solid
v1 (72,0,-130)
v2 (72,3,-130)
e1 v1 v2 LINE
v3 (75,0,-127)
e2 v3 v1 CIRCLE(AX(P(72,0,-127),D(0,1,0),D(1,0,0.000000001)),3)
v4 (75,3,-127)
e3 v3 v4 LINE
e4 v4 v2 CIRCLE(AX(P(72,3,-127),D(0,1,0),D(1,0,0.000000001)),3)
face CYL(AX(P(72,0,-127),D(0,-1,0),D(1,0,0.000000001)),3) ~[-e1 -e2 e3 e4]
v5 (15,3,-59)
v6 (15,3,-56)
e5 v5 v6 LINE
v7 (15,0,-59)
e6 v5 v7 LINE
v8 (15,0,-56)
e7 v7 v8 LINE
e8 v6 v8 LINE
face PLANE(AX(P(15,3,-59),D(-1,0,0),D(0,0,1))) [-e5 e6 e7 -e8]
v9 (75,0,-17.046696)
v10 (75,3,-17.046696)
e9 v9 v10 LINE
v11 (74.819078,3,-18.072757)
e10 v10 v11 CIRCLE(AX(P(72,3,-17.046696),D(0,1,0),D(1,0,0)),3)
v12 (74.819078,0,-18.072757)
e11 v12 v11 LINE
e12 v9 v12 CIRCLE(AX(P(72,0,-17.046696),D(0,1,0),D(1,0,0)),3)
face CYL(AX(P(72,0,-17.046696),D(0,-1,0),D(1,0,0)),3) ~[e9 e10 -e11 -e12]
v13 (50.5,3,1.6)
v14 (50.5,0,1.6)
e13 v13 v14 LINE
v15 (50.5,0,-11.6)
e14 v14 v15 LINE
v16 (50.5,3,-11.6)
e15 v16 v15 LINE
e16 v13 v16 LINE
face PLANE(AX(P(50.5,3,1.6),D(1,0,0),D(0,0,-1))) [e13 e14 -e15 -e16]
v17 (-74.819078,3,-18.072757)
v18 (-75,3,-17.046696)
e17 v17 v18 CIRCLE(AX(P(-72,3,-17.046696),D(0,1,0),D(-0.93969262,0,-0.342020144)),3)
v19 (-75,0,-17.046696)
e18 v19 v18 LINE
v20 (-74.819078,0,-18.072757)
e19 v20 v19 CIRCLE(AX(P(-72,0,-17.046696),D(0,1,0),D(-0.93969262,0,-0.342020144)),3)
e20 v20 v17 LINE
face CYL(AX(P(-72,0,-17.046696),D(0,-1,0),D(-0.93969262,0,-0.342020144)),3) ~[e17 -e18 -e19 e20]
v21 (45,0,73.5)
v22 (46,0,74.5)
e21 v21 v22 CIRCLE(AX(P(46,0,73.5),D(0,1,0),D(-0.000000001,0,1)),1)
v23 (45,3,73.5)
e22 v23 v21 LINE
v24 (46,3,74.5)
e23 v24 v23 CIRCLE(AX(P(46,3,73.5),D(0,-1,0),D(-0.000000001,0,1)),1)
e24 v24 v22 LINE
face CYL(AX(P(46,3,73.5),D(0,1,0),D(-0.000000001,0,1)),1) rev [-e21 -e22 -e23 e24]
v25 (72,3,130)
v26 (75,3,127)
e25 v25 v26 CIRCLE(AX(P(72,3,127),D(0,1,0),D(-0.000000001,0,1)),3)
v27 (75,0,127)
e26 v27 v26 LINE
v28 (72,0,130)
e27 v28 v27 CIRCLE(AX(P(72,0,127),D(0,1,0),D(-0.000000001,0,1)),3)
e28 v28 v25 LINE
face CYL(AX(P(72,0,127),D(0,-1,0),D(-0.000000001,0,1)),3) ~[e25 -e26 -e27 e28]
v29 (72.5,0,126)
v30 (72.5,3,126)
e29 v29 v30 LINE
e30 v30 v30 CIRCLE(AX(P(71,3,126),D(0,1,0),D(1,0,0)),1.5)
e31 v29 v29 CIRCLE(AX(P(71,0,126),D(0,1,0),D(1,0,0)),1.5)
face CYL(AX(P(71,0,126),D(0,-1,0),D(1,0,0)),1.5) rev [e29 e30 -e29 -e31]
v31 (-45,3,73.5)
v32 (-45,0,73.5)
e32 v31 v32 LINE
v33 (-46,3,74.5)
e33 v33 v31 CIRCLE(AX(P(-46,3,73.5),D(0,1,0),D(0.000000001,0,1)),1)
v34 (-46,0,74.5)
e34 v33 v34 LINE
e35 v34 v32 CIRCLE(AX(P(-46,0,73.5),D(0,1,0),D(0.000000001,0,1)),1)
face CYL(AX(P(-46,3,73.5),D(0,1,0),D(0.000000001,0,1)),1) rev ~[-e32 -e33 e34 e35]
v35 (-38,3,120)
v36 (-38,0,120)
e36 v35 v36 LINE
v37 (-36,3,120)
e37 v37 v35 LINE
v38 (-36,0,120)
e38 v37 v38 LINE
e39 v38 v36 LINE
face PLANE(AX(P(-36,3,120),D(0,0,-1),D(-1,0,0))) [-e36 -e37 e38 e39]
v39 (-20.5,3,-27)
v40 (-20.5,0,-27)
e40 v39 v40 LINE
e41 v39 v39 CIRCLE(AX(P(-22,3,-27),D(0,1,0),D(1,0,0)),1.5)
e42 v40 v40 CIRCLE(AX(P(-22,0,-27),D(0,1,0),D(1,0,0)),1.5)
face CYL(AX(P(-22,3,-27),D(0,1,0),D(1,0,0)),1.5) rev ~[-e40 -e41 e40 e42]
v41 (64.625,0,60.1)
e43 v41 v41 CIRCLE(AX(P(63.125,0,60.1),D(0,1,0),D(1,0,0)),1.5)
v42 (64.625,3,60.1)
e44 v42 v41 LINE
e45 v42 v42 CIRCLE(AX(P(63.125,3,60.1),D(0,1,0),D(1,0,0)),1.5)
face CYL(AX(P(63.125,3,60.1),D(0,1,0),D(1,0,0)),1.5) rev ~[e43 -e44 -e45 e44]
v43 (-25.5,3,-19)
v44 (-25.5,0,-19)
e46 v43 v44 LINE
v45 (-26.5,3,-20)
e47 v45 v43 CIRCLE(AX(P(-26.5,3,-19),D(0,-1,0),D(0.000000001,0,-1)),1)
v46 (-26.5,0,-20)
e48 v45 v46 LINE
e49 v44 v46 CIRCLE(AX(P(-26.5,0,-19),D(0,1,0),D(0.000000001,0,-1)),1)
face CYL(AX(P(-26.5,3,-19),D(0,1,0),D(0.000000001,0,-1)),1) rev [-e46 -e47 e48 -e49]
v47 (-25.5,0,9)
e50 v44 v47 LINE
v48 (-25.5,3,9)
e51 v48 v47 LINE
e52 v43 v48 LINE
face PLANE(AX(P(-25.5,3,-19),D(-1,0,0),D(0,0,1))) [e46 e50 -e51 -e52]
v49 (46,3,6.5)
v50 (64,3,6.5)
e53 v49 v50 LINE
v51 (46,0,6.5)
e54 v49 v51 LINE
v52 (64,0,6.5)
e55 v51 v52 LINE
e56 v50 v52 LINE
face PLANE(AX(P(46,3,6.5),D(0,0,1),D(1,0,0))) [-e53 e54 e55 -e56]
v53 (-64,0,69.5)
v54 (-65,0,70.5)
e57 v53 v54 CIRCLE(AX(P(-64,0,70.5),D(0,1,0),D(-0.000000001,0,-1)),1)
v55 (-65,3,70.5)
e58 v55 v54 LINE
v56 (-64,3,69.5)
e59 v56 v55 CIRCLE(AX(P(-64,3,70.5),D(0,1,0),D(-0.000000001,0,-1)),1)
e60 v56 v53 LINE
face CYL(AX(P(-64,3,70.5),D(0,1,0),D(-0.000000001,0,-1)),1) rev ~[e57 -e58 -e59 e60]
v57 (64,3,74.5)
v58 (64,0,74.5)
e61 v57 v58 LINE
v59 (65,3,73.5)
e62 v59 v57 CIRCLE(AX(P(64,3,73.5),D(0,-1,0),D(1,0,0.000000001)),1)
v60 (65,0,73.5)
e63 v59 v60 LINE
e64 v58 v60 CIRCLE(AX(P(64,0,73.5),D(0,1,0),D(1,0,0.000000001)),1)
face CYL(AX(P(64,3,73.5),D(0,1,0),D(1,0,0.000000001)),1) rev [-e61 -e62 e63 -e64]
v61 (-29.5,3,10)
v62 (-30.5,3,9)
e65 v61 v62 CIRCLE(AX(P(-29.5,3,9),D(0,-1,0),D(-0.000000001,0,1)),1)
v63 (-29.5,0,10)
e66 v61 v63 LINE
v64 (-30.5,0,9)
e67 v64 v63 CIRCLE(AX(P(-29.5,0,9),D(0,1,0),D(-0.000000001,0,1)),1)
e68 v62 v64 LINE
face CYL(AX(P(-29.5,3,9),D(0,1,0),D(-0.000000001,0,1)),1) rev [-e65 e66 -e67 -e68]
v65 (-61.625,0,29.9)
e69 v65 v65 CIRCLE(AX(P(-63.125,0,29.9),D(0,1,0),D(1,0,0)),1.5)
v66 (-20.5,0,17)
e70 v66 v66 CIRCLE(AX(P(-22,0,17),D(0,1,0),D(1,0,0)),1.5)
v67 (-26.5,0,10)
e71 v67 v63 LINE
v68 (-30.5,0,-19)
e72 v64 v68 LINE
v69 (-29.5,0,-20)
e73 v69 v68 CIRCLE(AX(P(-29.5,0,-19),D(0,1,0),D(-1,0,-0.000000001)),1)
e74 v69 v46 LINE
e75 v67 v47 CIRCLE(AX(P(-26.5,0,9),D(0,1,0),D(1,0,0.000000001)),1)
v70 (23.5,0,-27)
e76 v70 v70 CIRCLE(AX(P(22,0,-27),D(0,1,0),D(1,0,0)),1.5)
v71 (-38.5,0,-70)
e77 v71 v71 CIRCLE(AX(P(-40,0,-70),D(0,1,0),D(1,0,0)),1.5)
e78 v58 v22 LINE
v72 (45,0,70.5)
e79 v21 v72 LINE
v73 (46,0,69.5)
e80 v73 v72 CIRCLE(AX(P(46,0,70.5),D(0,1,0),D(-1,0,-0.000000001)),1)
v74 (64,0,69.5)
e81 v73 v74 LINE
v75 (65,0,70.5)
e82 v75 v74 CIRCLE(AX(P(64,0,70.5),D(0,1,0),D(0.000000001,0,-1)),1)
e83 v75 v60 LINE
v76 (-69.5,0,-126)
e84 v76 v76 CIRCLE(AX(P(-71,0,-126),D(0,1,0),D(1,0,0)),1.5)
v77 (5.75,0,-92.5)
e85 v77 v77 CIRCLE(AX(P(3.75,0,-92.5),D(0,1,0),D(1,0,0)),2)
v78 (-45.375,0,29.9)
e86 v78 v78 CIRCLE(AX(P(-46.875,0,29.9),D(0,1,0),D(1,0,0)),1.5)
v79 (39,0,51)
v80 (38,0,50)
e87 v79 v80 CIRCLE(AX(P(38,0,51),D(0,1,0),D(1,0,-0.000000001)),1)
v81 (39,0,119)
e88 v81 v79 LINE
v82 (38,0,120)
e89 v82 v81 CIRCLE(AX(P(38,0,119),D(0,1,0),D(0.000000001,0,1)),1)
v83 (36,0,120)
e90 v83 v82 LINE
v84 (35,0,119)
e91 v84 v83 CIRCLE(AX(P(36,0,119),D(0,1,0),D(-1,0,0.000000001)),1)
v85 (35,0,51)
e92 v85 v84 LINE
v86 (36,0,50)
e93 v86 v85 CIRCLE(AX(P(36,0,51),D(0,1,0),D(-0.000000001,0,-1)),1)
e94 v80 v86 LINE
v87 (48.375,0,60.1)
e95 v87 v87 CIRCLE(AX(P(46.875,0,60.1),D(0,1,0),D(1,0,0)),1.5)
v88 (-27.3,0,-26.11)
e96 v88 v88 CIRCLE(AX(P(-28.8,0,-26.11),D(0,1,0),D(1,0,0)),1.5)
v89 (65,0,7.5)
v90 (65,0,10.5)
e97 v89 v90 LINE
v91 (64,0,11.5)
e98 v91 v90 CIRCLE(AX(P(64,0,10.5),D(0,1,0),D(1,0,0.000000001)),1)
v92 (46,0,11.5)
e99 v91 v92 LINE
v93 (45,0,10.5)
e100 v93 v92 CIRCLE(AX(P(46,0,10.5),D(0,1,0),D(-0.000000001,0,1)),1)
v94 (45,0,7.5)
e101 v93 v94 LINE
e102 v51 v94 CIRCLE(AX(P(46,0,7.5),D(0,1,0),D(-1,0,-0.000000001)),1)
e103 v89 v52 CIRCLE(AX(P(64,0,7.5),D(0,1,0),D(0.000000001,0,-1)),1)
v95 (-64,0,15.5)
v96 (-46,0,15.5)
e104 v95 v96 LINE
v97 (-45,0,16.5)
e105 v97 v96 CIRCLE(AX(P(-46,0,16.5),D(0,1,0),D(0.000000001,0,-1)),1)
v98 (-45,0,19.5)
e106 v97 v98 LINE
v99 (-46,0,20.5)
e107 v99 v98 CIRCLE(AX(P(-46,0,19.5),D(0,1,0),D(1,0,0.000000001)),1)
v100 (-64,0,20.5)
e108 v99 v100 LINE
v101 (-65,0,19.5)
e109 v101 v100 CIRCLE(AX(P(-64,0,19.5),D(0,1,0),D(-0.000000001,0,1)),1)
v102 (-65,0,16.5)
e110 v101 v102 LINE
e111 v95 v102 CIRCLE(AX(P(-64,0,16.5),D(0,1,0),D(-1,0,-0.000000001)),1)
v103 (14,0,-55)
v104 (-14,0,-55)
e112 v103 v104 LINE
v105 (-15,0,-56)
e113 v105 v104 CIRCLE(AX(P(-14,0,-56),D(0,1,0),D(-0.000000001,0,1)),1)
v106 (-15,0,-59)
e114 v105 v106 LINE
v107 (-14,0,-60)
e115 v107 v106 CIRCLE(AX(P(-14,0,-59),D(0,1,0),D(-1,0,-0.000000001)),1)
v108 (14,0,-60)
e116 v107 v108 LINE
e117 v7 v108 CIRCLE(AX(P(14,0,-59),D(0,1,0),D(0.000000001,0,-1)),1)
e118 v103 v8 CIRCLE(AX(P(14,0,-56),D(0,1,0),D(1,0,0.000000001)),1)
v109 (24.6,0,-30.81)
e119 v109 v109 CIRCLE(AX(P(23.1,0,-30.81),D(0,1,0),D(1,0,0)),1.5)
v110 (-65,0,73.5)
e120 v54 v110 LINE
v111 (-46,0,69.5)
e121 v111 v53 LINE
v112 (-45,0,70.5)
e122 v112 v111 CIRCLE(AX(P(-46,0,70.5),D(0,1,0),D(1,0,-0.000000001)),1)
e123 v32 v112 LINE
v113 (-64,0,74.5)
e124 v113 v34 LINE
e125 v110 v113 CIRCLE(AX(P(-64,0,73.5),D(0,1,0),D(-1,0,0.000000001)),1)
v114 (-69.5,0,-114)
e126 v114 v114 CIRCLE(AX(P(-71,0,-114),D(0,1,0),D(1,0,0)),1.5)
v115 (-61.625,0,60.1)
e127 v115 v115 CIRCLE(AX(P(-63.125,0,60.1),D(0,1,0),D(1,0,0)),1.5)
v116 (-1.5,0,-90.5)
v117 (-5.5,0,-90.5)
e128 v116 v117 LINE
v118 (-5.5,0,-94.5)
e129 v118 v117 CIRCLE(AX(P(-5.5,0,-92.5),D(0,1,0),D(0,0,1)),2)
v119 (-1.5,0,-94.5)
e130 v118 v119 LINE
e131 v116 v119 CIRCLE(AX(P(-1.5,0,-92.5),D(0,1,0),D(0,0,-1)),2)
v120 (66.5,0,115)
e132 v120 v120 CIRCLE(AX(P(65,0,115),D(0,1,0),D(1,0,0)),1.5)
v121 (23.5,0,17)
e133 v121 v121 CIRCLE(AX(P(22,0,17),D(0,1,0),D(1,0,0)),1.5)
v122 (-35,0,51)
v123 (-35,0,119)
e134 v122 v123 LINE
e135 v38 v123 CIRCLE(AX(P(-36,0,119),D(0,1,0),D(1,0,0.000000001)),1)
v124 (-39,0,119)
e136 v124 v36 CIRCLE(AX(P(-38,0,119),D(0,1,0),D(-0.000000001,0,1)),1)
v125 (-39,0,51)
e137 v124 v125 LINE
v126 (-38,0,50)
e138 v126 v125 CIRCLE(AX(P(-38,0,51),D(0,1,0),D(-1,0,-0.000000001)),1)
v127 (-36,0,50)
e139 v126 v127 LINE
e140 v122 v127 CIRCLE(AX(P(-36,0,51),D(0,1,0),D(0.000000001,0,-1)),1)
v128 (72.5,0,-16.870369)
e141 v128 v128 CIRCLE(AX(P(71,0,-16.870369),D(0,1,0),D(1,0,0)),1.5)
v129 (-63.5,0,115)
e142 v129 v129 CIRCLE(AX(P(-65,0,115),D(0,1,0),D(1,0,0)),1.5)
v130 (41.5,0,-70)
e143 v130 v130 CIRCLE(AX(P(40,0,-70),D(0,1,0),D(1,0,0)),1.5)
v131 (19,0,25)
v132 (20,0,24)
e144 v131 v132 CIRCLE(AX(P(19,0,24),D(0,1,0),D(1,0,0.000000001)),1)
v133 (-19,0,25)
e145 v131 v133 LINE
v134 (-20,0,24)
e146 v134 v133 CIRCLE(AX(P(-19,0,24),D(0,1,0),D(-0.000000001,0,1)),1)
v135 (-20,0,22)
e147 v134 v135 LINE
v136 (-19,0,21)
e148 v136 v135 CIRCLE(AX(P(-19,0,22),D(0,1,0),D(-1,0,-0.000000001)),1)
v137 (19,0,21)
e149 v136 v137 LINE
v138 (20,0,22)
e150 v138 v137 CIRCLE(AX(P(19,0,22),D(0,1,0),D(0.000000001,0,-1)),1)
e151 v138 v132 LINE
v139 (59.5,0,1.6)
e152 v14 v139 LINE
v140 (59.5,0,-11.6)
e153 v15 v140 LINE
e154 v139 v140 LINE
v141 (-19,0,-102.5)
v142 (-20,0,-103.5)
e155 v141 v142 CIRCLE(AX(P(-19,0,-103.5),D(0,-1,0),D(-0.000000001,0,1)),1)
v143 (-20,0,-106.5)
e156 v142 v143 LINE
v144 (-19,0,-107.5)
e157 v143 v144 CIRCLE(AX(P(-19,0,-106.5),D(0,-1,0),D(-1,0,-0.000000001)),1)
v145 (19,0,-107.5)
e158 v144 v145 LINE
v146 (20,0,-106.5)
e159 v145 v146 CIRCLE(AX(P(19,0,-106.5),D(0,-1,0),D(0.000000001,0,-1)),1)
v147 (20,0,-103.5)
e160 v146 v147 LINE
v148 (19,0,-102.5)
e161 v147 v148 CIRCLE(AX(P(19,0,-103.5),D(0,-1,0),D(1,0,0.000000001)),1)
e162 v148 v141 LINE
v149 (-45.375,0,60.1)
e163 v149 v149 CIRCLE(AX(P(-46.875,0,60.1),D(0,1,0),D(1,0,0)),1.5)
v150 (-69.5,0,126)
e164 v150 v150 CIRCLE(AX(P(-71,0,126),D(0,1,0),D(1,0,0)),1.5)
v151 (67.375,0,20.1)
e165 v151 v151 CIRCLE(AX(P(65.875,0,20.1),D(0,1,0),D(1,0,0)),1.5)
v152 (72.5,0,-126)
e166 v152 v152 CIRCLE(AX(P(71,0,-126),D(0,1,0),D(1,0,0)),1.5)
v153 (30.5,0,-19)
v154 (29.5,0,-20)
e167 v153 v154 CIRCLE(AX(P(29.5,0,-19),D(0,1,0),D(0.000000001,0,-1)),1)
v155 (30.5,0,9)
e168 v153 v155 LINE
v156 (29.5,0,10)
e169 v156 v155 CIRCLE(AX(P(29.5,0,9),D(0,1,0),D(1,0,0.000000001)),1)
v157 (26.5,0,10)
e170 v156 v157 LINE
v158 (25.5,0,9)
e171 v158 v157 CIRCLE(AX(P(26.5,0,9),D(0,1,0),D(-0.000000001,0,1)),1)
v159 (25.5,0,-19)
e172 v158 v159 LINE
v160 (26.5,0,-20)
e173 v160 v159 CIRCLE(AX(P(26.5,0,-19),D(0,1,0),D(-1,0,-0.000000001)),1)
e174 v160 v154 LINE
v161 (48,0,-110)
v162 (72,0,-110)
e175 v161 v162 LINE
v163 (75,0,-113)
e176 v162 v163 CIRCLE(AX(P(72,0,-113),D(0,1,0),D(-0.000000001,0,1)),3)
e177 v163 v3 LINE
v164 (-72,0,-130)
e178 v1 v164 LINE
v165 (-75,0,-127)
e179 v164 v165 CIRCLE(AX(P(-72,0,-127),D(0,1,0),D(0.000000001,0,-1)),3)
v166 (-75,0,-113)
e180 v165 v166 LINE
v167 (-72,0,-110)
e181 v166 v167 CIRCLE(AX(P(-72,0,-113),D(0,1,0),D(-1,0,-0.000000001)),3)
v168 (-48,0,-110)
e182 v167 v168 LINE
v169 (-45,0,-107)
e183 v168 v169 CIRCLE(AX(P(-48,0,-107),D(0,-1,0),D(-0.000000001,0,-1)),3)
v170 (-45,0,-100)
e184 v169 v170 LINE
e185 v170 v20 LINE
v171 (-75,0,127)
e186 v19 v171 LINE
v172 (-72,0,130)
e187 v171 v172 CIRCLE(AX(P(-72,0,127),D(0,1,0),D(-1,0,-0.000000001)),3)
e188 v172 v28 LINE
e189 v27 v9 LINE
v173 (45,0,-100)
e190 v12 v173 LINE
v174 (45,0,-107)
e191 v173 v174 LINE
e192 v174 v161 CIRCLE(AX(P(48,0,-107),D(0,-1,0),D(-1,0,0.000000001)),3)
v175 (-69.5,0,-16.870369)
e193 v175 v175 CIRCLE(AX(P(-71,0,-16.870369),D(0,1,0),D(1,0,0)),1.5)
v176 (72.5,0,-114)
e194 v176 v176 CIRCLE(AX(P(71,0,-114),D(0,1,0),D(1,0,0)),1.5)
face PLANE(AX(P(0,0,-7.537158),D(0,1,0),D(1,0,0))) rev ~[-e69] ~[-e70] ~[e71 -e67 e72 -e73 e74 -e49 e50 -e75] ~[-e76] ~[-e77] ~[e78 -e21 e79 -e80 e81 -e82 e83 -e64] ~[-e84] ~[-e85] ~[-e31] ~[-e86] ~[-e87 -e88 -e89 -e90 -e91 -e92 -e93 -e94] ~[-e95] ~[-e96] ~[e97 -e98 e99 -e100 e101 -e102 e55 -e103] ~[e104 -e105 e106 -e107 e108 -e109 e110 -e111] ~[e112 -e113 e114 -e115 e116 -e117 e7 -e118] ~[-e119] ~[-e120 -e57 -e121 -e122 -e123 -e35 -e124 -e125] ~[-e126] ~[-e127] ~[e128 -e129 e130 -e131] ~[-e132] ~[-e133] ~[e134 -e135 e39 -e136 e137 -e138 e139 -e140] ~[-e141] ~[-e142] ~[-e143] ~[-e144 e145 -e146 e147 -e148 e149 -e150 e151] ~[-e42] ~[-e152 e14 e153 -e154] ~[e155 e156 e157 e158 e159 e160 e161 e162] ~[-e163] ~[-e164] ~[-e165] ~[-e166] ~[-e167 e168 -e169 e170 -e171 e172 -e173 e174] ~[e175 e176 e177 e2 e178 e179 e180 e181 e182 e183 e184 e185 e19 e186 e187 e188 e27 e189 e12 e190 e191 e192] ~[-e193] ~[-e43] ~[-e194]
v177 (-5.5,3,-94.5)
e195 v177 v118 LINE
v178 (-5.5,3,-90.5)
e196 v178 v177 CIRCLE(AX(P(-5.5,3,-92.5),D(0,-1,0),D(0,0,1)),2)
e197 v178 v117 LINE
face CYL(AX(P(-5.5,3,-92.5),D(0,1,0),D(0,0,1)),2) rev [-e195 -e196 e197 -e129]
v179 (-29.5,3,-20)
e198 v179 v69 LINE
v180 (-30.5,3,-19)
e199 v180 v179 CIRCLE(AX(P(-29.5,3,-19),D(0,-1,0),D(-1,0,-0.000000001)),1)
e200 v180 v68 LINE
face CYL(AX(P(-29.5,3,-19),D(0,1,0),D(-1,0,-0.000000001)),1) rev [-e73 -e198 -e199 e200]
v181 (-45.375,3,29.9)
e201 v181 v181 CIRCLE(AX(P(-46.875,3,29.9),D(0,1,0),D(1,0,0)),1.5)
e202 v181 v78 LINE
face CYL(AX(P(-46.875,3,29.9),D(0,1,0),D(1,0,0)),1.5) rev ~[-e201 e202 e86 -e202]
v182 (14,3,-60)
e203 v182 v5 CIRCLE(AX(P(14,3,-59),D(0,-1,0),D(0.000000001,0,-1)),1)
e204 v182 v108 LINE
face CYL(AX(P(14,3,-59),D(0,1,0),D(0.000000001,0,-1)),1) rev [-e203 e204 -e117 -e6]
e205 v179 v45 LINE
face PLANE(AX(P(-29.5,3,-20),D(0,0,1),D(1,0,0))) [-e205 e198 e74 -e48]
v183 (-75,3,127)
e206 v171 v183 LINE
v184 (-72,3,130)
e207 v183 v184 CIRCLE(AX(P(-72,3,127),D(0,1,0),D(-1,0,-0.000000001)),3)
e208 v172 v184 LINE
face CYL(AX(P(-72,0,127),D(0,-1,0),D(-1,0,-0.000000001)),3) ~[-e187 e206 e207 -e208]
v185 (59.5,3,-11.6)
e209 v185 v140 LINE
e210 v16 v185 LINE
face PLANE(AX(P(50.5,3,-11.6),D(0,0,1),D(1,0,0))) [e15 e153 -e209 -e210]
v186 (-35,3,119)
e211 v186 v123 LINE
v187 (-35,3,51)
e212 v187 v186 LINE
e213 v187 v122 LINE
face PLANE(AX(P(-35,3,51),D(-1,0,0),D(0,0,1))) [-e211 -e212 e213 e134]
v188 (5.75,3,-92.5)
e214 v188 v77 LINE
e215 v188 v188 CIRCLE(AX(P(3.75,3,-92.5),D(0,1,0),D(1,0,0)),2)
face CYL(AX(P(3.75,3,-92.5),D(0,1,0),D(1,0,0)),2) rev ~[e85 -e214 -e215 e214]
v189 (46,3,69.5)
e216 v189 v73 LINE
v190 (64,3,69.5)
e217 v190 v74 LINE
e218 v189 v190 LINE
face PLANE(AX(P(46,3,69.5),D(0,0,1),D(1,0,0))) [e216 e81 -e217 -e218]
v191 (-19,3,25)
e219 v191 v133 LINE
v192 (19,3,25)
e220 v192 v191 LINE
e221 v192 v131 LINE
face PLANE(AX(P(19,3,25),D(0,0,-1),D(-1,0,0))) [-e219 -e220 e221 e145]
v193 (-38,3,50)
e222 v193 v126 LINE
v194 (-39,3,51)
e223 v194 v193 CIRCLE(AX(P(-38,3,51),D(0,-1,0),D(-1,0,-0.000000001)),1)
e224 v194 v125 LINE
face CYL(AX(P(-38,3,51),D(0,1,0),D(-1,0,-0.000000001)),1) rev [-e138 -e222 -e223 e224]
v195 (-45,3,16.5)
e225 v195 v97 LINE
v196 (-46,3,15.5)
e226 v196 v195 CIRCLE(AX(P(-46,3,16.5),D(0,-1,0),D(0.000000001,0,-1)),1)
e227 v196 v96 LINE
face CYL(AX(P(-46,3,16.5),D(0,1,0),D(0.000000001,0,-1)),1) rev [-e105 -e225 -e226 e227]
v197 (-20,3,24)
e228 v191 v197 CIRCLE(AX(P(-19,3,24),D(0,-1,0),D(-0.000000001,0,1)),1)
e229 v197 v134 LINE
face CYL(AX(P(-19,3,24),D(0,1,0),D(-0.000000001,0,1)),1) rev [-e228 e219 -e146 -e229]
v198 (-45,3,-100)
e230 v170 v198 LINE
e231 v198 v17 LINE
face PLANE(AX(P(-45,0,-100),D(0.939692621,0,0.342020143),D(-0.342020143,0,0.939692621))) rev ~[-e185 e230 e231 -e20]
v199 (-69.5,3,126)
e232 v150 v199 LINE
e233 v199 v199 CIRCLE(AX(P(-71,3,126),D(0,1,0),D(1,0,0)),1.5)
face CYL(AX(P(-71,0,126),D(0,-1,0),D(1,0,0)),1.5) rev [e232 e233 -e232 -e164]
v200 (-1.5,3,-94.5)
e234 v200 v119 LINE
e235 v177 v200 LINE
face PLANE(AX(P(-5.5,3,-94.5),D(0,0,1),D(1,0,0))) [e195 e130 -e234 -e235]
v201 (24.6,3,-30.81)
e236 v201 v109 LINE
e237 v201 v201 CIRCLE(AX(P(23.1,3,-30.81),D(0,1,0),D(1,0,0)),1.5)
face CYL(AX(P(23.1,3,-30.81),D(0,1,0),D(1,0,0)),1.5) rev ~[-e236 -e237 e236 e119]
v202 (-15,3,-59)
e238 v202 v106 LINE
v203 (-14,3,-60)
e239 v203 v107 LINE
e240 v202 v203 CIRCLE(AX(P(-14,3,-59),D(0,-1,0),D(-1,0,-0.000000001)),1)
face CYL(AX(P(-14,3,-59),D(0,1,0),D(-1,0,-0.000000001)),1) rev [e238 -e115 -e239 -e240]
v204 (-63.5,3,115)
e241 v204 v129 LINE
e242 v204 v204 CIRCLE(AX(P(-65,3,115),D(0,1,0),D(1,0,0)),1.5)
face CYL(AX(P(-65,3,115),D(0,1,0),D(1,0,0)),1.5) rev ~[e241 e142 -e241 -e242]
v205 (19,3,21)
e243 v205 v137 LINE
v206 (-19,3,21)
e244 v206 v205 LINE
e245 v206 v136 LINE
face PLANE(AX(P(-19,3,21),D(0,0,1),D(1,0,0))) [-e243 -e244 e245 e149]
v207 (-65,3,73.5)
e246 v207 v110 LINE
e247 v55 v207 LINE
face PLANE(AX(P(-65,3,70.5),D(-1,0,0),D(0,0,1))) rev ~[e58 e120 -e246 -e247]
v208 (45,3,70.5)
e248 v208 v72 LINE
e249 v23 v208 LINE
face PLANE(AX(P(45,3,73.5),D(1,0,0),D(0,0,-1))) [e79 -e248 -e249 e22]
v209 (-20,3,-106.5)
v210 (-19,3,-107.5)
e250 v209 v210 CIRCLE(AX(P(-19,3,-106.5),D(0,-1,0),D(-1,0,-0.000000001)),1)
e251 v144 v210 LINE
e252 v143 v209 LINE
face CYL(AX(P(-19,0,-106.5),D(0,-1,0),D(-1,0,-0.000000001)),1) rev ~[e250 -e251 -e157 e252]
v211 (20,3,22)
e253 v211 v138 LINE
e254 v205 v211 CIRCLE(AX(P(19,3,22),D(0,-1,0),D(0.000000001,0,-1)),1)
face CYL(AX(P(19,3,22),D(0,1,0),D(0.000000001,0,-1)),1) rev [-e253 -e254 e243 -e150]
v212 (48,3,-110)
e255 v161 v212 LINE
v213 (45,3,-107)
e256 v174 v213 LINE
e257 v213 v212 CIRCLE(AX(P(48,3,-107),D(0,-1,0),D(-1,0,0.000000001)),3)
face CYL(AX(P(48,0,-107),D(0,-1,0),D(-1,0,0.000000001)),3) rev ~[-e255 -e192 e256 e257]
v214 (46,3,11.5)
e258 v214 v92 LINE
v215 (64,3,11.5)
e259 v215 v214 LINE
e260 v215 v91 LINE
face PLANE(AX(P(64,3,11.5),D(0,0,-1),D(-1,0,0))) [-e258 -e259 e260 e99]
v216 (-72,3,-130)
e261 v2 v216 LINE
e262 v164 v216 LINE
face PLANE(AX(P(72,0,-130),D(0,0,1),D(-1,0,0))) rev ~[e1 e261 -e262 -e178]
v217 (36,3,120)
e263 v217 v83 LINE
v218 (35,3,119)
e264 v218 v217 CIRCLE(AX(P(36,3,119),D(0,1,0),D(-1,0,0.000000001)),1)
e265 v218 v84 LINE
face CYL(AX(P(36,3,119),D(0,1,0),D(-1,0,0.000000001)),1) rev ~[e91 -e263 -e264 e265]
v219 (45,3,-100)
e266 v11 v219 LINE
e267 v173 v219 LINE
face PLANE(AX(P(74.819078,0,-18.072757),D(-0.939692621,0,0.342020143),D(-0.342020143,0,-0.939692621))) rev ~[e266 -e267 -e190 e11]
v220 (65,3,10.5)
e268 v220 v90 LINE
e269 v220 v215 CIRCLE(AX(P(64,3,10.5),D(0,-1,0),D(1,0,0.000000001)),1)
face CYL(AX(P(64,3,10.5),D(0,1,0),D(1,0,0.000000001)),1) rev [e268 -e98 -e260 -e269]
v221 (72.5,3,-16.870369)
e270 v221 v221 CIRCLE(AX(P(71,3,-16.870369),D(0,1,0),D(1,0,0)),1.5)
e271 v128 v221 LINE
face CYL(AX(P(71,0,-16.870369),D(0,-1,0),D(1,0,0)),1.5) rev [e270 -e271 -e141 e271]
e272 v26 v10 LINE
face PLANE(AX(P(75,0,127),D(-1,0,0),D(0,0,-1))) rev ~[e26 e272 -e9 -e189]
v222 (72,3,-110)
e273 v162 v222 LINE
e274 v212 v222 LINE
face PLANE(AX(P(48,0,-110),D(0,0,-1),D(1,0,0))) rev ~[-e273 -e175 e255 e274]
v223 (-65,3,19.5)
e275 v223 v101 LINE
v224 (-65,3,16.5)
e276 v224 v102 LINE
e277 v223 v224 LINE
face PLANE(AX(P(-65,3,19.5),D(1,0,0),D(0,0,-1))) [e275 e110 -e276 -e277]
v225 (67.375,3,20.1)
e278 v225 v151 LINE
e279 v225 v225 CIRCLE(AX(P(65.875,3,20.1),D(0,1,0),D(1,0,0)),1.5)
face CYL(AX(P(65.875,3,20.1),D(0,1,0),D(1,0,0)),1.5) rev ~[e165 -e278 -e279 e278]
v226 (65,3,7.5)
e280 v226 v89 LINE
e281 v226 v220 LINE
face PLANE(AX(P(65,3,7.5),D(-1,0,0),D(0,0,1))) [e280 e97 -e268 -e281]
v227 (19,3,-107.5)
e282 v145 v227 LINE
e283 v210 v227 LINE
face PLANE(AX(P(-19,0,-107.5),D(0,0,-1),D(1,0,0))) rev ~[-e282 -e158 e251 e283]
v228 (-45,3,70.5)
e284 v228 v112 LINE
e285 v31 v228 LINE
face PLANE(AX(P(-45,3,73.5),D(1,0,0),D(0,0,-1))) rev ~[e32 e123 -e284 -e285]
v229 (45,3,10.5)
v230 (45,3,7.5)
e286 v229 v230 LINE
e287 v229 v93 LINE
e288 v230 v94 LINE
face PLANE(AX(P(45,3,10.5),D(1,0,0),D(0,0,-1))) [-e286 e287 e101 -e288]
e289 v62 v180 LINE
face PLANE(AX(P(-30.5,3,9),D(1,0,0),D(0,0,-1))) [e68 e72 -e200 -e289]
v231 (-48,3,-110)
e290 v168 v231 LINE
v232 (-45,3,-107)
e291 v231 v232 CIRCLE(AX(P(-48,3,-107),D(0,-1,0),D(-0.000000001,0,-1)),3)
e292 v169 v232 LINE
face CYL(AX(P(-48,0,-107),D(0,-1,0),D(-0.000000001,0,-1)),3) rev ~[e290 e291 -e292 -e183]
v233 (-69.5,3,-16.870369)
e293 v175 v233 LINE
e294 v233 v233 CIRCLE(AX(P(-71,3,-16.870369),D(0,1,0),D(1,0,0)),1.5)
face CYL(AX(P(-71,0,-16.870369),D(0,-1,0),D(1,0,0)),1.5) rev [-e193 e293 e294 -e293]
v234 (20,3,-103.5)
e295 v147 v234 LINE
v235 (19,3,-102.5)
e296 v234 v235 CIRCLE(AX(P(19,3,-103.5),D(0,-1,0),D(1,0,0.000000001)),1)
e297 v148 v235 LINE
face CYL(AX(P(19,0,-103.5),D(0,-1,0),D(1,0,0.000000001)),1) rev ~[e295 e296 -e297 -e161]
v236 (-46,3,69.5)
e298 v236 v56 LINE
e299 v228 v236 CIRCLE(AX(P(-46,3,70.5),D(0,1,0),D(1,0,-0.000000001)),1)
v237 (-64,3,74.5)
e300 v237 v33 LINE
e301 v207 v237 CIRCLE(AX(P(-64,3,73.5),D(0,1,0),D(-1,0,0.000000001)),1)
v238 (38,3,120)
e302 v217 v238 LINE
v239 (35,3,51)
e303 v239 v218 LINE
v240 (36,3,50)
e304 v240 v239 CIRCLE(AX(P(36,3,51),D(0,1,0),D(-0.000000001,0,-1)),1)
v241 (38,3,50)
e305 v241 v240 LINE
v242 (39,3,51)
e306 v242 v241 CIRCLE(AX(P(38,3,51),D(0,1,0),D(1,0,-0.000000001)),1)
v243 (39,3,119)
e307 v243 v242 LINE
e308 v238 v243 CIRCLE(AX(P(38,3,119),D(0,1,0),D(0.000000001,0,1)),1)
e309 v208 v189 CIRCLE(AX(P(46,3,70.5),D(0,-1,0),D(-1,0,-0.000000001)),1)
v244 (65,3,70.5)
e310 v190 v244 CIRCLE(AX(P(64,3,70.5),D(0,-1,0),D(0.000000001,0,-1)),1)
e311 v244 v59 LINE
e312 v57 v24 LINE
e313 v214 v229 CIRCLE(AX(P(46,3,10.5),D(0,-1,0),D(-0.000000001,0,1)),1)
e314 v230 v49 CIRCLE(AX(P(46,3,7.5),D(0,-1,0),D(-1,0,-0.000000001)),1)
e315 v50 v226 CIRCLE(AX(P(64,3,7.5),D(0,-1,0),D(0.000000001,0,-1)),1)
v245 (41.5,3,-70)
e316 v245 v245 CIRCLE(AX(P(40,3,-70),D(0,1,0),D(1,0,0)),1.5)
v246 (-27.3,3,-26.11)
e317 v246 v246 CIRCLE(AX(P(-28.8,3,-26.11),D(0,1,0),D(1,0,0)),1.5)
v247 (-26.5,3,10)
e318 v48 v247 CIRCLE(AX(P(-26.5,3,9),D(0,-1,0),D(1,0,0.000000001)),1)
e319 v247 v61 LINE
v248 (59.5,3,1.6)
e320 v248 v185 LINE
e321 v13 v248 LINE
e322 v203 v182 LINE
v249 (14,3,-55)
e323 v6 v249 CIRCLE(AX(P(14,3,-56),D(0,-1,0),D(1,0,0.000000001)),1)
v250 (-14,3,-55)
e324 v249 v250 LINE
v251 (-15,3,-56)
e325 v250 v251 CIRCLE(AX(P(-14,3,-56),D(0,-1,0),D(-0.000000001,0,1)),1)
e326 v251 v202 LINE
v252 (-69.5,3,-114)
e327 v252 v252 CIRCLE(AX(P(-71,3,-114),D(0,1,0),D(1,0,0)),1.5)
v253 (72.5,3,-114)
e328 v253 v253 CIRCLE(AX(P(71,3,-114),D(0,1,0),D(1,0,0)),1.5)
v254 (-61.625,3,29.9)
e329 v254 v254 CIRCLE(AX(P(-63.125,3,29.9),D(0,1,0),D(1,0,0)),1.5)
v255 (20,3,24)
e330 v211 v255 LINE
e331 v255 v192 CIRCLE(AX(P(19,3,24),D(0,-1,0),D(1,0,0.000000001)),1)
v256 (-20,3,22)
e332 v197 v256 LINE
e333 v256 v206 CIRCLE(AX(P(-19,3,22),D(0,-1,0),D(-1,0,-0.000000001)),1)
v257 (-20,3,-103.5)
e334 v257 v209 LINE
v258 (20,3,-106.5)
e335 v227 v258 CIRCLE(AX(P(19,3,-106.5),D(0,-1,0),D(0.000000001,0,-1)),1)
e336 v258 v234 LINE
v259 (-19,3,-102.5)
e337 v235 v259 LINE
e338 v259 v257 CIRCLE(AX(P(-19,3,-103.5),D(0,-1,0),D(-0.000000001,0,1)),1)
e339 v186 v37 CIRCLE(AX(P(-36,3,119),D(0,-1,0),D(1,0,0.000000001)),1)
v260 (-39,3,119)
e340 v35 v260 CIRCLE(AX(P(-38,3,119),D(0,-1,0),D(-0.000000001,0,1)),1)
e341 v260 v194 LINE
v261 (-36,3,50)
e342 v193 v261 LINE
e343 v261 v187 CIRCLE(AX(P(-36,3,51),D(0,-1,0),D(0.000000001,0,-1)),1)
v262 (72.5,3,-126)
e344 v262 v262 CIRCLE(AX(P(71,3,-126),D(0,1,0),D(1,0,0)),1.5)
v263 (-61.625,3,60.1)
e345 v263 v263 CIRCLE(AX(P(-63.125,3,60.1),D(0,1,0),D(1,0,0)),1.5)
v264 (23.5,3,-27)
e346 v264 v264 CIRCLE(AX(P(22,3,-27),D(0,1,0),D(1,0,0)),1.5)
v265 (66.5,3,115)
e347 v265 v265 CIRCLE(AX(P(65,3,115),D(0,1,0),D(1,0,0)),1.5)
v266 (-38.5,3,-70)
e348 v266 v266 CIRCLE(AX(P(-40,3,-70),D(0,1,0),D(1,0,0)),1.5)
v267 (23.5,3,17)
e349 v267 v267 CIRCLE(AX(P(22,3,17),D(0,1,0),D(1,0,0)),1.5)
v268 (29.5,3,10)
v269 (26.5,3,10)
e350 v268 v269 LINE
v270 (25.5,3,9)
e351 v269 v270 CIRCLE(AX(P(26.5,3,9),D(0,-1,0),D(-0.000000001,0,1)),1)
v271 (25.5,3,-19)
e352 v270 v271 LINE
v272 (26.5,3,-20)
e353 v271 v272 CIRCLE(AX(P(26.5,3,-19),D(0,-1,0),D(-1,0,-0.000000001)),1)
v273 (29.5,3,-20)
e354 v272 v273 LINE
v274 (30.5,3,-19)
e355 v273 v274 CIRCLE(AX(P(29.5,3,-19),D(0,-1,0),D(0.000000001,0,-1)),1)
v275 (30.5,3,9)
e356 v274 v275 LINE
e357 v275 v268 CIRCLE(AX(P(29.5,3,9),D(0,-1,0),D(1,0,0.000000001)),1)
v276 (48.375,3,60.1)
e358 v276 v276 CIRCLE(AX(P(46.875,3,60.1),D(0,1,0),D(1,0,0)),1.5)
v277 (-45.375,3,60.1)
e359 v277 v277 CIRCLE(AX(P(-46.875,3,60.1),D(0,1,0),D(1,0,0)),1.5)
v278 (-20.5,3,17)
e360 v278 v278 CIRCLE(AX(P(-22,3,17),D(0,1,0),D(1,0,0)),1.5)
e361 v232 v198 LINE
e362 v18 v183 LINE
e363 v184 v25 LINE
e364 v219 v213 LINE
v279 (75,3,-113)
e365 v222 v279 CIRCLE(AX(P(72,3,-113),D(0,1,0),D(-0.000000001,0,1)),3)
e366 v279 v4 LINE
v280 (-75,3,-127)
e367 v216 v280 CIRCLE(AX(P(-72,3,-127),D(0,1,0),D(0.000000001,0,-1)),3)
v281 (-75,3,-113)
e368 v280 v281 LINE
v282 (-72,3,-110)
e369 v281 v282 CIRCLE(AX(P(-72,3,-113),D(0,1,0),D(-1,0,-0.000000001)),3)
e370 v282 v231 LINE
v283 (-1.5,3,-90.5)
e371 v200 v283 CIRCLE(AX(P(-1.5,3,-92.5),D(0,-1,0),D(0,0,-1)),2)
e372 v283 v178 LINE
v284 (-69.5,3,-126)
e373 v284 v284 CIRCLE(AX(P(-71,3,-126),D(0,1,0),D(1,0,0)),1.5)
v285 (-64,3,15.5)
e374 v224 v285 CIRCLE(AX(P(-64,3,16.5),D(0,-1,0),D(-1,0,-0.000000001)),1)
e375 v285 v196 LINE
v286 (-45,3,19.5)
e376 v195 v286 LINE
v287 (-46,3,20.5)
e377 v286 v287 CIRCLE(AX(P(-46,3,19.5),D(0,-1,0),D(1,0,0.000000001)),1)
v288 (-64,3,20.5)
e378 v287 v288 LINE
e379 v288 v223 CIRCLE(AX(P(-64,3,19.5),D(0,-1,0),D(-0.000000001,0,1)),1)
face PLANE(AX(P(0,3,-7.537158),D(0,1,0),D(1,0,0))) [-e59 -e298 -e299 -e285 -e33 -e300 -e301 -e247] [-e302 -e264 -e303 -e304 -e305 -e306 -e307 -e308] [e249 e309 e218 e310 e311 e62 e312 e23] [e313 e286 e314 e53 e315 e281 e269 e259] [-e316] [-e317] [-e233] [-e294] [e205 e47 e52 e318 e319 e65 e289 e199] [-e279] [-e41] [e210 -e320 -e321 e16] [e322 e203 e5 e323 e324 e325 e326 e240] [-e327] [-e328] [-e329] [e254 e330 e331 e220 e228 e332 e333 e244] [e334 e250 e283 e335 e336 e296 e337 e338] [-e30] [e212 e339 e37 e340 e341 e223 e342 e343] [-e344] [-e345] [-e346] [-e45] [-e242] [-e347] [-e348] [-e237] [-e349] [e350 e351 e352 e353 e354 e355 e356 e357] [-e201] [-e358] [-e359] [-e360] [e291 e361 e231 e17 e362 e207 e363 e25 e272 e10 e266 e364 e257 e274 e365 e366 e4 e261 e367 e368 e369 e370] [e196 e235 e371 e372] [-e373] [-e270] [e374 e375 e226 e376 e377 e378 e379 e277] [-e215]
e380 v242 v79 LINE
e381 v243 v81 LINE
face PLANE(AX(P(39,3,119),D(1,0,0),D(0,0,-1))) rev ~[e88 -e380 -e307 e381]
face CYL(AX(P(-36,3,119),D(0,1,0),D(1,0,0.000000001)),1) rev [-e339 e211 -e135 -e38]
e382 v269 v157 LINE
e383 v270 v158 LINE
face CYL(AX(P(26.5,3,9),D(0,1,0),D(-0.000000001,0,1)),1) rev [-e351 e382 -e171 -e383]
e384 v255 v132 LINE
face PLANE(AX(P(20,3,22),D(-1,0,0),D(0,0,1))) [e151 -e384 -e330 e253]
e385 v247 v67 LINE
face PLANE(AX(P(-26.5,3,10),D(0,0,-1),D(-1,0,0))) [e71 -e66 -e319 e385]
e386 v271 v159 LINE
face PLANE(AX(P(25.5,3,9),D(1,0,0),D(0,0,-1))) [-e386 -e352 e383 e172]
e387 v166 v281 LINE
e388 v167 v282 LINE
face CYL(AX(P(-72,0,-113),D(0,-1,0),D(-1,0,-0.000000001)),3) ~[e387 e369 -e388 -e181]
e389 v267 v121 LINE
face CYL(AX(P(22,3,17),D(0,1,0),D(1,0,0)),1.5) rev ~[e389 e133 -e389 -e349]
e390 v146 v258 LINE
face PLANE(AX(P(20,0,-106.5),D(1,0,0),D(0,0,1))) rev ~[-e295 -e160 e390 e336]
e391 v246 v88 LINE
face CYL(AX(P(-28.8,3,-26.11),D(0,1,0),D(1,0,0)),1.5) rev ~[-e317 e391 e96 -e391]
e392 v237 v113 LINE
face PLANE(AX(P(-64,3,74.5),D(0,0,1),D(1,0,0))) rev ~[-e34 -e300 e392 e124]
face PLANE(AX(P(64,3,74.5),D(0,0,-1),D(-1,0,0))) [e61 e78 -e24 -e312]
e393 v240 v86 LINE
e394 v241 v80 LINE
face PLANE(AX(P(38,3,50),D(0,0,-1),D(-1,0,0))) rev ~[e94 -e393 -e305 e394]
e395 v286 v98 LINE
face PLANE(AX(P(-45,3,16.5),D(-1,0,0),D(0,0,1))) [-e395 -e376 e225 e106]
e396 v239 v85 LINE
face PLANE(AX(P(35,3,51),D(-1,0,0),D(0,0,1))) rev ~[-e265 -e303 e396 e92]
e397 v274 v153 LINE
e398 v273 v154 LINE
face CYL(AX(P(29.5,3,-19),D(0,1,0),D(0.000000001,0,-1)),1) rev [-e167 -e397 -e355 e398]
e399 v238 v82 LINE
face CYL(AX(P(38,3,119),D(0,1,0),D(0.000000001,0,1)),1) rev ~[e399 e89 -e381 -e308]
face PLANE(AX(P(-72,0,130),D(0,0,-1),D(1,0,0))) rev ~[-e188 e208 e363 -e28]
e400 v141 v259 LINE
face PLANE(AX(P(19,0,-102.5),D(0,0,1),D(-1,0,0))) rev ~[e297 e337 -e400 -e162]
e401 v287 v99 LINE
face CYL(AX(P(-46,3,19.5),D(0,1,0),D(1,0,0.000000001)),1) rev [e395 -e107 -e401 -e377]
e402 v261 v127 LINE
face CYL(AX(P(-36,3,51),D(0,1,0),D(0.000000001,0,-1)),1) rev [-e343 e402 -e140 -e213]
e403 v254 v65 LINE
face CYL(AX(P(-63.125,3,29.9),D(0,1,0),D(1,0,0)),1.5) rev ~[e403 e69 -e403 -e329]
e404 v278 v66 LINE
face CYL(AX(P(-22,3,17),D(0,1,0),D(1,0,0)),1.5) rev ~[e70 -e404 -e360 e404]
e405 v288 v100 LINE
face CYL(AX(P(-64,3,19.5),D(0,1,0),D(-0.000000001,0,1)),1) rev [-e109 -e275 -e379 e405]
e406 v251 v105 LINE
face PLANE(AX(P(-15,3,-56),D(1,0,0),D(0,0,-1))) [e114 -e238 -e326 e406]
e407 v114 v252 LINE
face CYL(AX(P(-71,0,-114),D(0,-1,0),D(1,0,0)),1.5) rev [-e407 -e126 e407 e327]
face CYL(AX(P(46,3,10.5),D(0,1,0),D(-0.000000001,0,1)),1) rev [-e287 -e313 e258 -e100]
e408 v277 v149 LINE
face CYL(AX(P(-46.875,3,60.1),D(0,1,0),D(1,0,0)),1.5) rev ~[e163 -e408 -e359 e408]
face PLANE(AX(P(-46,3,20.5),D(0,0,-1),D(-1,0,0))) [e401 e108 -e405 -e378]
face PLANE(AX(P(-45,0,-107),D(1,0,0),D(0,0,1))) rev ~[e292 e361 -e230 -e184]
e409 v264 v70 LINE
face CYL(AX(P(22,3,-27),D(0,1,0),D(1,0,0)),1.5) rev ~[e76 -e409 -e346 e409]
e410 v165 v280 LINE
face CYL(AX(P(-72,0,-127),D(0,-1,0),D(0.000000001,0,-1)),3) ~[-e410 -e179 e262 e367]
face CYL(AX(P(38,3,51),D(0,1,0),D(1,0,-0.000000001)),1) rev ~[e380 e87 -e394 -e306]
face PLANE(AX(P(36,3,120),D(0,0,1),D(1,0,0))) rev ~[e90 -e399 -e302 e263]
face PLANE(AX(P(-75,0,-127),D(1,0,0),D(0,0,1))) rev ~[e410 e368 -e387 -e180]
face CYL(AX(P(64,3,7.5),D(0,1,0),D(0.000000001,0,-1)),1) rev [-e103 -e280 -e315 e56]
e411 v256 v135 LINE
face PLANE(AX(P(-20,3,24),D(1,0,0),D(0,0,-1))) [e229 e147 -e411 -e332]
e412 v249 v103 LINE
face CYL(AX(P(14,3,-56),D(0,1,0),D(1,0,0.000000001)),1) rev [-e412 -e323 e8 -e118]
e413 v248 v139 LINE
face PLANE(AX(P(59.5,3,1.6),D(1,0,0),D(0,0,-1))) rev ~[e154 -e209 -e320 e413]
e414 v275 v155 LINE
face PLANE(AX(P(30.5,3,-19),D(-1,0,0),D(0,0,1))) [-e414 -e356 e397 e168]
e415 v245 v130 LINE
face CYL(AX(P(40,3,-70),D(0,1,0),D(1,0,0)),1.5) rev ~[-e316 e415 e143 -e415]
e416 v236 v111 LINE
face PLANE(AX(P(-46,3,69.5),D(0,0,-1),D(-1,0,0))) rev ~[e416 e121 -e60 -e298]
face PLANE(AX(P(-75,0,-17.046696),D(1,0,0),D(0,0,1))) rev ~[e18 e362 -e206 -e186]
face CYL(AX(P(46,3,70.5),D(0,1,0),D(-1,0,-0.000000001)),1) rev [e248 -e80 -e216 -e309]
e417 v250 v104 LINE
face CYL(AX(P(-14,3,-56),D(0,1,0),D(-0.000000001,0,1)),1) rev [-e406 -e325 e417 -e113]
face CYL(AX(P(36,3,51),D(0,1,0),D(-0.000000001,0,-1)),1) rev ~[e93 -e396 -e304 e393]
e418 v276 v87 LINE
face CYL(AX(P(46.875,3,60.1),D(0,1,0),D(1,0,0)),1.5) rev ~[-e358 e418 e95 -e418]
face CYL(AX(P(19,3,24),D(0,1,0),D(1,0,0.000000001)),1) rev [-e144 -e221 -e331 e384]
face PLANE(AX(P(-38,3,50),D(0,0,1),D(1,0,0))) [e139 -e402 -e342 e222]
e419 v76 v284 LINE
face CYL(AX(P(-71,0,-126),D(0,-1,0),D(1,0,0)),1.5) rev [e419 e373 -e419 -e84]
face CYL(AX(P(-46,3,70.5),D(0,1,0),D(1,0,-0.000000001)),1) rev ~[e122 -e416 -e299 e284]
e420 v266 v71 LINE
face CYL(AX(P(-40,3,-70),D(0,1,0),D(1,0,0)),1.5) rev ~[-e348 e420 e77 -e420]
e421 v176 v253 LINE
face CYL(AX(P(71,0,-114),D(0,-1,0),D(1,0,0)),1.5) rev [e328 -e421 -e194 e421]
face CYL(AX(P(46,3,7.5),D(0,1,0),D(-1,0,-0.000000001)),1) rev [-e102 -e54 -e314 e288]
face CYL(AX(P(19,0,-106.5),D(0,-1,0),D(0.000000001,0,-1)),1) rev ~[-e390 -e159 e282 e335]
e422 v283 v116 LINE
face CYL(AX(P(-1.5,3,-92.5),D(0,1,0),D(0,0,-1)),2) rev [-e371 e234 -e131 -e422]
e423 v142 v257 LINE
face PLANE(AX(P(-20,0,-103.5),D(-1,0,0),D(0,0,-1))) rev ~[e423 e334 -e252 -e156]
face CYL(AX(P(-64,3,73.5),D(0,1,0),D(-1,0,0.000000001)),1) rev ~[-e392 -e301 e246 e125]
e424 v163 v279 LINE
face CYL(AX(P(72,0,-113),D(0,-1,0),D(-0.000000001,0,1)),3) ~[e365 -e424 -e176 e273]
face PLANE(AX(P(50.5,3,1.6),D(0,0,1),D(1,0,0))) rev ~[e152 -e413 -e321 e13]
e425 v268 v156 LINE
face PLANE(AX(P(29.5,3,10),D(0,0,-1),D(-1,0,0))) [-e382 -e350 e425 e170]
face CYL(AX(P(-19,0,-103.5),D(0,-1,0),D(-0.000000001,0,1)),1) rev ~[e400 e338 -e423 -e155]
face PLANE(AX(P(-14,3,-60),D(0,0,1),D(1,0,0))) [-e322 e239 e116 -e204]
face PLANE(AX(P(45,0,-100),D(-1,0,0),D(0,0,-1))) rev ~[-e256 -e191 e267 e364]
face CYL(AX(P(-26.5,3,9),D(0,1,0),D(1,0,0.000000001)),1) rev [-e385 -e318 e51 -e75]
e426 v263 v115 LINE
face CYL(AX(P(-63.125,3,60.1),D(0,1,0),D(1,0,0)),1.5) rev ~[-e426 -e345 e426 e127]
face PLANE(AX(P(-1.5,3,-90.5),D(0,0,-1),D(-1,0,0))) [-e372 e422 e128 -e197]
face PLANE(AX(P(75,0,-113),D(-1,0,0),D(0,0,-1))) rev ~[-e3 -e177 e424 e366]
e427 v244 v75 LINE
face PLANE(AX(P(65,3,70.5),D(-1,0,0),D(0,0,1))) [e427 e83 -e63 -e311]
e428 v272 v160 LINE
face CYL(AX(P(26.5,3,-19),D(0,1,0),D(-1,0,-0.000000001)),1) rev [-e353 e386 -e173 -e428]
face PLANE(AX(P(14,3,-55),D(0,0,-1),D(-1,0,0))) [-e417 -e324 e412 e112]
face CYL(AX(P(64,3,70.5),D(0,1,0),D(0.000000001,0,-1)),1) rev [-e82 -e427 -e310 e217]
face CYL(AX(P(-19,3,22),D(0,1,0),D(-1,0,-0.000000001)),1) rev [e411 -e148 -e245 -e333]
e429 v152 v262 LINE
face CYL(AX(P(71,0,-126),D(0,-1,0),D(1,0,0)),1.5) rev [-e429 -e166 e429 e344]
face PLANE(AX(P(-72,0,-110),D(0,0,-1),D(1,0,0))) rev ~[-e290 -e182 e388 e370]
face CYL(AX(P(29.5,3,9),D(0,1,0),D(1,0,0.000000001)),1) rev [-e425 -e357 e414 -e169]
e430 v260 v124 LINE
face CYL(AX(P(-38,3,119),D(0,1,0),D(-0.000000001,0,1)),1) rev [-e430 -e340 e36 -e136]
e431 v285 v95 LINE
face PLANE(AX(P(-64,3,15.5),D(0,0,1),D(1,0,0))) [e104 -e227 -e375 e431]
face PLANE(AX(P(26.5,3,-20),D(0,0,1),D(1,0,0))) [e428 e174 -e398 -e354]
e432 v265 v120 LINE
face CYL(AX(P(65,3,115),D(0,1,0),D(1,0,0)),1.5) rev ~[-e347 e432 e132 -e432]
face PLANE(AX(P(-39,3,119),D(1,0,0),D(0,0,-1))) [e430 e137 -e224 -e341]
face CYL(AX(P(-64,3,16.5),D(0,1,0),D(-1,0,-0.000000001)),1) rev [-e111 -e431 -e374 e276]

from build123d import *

# Parameters (mm, degrees)
SKETCH1_R           = 1.5
BOSS_EXTRUDE1_DEPTH = 3
SKETCH2_R           = 1.5
SKETCH2_R_2         = 2
SKETCH2_W           = 9
SKETCH2_H           = 13.2
CUT_EXTRUDE1_DEPTH  = 4
SKETCH3_R           = 1.5
CUT_EXTRUDE2_DEPTH  = 4


with BuildPart() as part:
    # Sketch1 → Boss-Extrude1 (new body)
    with BuildSketch(Plane(origin=(0, 0, 0), x_dir=(1, 0, 0), z_dir=(0, 1, 0))):
        with BuildLine():
            Line((-72, 110), (-48, 110))
            ThreePointArc((-48, 110), (-45.878679656, 109.121320344), (-45, 107))
            Line((-45, 107), (-45, 100))
            Line((-45, 100), (-74.819077862, 18.072756904))
            ThreePointArc((-74.819077862, 18.072756904), (-74.954423259, 17.567641007), (-75, 17.046696474))
            Line((-75, 17.046696474), (-75, -127))
            ThreePointArc((-75, -127), (-74.121320344, -129.121320344), (-72, -130))
            Line((-72, -130), (72, -130))
            ThreePointArc((72, -130), (74.121320344, -129.121320344), (75, -127))
            Line((75, -127), (75, 17.046696474))
            ThreePointArc((75, 17.046696474), (74.954423259, 17.567641007), (74.819077862, 18.072756904))
            Line((74.819077862, 18.072756904), (45, 100))
            Line((45, 100), (45, 107))
            ThreePointArc((45, 107), (45.878679656, 109.121320344), (48, 110))
            Line((48, 110), (72, 110))
            ThreePointArc((72, 110), (74.121320344, 110.878679656), (75, 113))
            Line((75, 113), (75, 127))
            ThreePointArc((75, 127), (74.121320344, 129.121320344), (72, 130))
            Line((72, 130), (-72, 130))
            ThreePointArc((-72, 130), (-74.121320344, 129.121320344), (-75, 127))
            Line((-75, 127), (-75, 113))
            ThreePointArc((-75, 113), (-74.121320344, 110.878679656), (-72, 110))
        make_face()
        with Locations((-71, -126)):
            Circle(SKETCH1_R, mode=Mode.SUBTRACT)
        with Locations((-71, 16.870369494)):
            Circle(SKETCH1_R, mode=Mode.SUBTRACT)
        with Locations((71, -126)):
            Circle(SKETCH1_R, mode=Mode.SUBTRACT)
        with Locations((71, 16.870369494)):
            Circle(SKETCH1_R, mode=Mode.SUBTRACT)
        with Locations((-71, 126)):
            Circle(SKETCH1_R, mode=Mode.SUBTRACT)
        with Locations((-71, 114)):
            Circle(SKETCH1_R, mode=Mode.SUBTRACT)
        with Locations((71, 114)):
            Circle(SKETCH1_R, mode=Mode.SUBTRACT)
        with Locations((71, 126)):
            Circle(SKETCH1_R, mode=Mode.SUBTRACT)
        with BuildLine():
            Line((19, 102.5), (-19, 102.5))
            ThreePointArc((-19, 102.5), (-19.707106781, 102.792893219), (-20, 103.5))
            Line((-20, 103.5), (-20, 106.5))
            ThreePointArc((-20, 106.5), (-19.707106781, 107.207106781), (-19, 107.5))
            Line((-19, 107.5), (19, 107.5))
            ThreePointArc((19, 107.5), (19.707106781, 107.207106781), (20, 106.5))
            Line((20, 106.5), (20, 103.5))
            ThreePointArc((20, 103.5), (19.707106781, 102.792893219), (19, 102.5))
        make_face(mode=Mode.SUBTRACT)
    extrude(amount=BOSS_EXTRUDE1_DEPTH)

    # Sketch2 → Cut-Extrude1 (cut)
    with BuildSketch(Plane(origin=(0, 3, 0), x_dir=(1, 0, 0), z_dir=(0, 1, 0))):
        with Locations((-46.875, -60.1)):
            Circle(SKETCH2_R)
        with Locations((-63.125, -29.9)):
            Circle(SKETCH2_R)
        with Locations((-63.125, -60.1)):
            Circle(SKETCH2_R)
        with Locations((-46.875, -29.9)):
            Circle(SKETCH2_R)
        with Locations((22, 27)):
            Circle(SKETCH2_R)
        with Locations((22, -17)):
            Circle(SKETCH2_R)
        with Locations((-22, -17)):
            Circle(SKETCH2_R)
        with Locations((-22, 27)):
            Circle(SKETCH2_R)
        with Locations((65, -115)):
            Circle(SKETCH2_R)
        with Locations((-65, -115)):
            Circle(SKETCH2_R)
        with Locations((3.75, 92.5)):
            Circle(SKETCH2_R_2)
        with Locations((63.125, -60.1)):
            Circle(SKETCH2_R)
        with Locations((46.875, -60.1)):
            Circle(SKETCH2_R)
        with Locations((65.875, -20.1)):
            Circle(SKETCH2_R)
        with BuildLine():
            Line((64, -11.5), (46, -11.5))
            ThreePointArc((46, -11.5), (45.292893219, -11.207106781), (45, -10.5))
            Line((45, -10.5), (45, -7.5))
            ThreePointArc((45, -7.5), (45.292893219, -6.792893219), (46, -6.5))
            Line((46, -6.5), (64, -6.5))
            ThreePointArc((64, -6.5), (64.707106781, -6.792893219), (65, -7.5))
            Line((65, -7.5), (65, -10.5))
            ThreePointArc((65, -10.5), (64.707106781, -11.207106781), (64, -11.5))
        make_face()
        with Locations((55, 5)):
            Rectangle(SKETCH2_W, SKETCH2_H)
        with BuildLine():
            Line((-64, -15.5), (-46, -15.5))
            ThreePointArc((-46, -15.5), (-45.292893219, -15.792893219), (-45, -16.5))
            Line((-45, -16.5), (-45, -19.5))
            ThreePointArc((-45, -19.5), (-45.292893219, -20.207106781), (-46, -20.5))
            Line((-46, -20.5), (-64, -20.5))
            ThreePointArc((-64, -20.5), (-64.707106781, -20.207106781), (-65, -19.5))
            Line((-65, -19.5), (-65, -16.5))
            ThreePointArc((-65, -16.5), (-64.707106781, -15.792893219), (-64, -15.5))
        make_face()
        with BuildLine():
            Line((-45, -73.5), (-45, -70.5))
            ThreePointArc((-45, -70.5), (-45.292893219, -69.792893219), (-46, -69.5))
            Line((-46, -69.5), (-64, -69.5))
            ThreePointArc((-64, -69.5), (-64.707106781, -69.792893219), (-65, -70.5))
            Line((-65, -70.5), (-65, -73.5))
            ThreePointArc((-65, -73.5), (-64.707106781, -74.207106781), (-64, -74.5))
            Line((-64, -74.5), (-46, -74.5))
            ThreePointArc((-46, -74.5), (-45.292893219, -74.207106781), (-45, -73.5))
        make_face()
        with BuildLine():
            Line((38, -50), (36, -50))
            ThreePointArc((36, -50), (35.292893219, -50.292893219), (35, -51))
            Line((35, -51), (35, -119))
            ThreePointArc((35, -119), (35.292893219, -119.707106781), (36, -120))
            Line((36, -120), (38, -120))
            ThreePointArc((38, -120), (38.707106781, -119.707106781), (39, -119))
            Line((39, -119), (39, -51))
            ThreePointArc((39, -51), (38.707106781, -50.292893219), (38, -50))
        make_face()
        with BuildLine():
            Line((-35, -51), (-35, -119))
            ThreePointArc((-35, -119), (-35.292893219, -119.707106781), (-36, -120))
            Line((-36, -120), (-38, -120))
            ThreePointArc((-38, -120), (-38.707106781, -119.707106781), (-39, -119))
            Line((-39, -119), (-39, -51))
            ThreePointArc((-39, -51), (-38.707106781, -50.292893219), (-38, -50))
            Line((-38, -50), (-36, -50))
            ThreePointArc((-36, -50), (-35.292893219, -50.292893219), (-35, -51))
        make_face()
        with BuildLine():
            Line((-5.5, 94.5), (-1.5, 94.5))
            ThreePointArc((-1.5, 94.5), (0.5, 92.5), (-1.5, 90.5))
            Line((-1.5, 90.5), (-5.5, 90.5))
            ThreePointArc((-5.5, 90.5), (-7.5, 92.5), (-5.5, 94.5))
        make_face()
        with BuildLine():
            Line((-14, 60), (14, 60))
            ThreePointArc((14, 60), (14.707106781, 59.707106781), (15, 59))
            Line((15, 59), (15, 56))
            ThreePointArc((15, 56), (14.707106781, 55.292893219), (14, 55))
            Line((14, 55), (-14, 55))
            ThreePointArc((-14, 55), (-14.707106781, 55.292893219), (-15, 56))
            Line((-15, 56), (-15, 59))
            ThreePointArc((-15, 59), (-14.707106781, 59.707106781), (-14, 60))
        make_face()
        with BuildLine():
            Line((29.5, -10), (26.5, -10))
            ThreePointArc((26.5, -10), (25.792893219, -9.707106781), (25.5, -9))
            Line((25.5, -9), (25.5, 19))
            ThreePointArc((25.5, 19), (25.792893219, 19.707106781), (26.5, 20))
            Line((26.5, 20), (29.5, 20))
            ThreePointArc((29.5, 20), (30.207106781, 19.707106781), (30.5, 19))
            Line((30.5, 19), (30.5, -9))
            ThreePointArc((30.5, -9), (30.207106781, -9.707106781), (29.5, -10))
        make_face()
        with BuildLine():
            Line((-29.5, 20), (-26.5, 20))
            ThreePointArc((-26.5, 20), (-25.792893219, 19.707106781), (-25.5, 19))
            Line((-25.5, 19), (-25.5, -9))
            ThreePointArc((-25.5, -9), (-25.792893219, -9.707106781), (-26.5, -10))
            Line((-26.5, -10), (-29.5, -10))
            ThreePointArc((-29.5, -10), (-30.207106781, -9.707106781), (-30.5, -9))
            Line((-30.5, -9), (-30.5, 19))
            ThreePointArc((-30.5, 19), (-30.207106781, 19.707106781), (-29.5, 20))
        make_face()
        with BuildLine():
            Line((64, -74.5), (46, -74.5))
            ThreePointArc((46, -74.5), (45.292893219, -74.207106781), (45, -73.5))
            Line((45, -73.5), (45, -70.5))
            ThreePointArc((45, -70.5), (45.292893219, -69.792893219), (46, -69.5))
            Line((46, -69.5), (64, -69.5))
            ThreePointArc((64, -69.5), (64.707106781, -69.792893219), (65, -70.5))
            Line((65, -70.5), (65, -73.5))
            ThreePointArc((65, -73.5), (64.707106781, -74.207106781), (64, -74.5))
        make_face()
    extrude(amount=-CUT_EXTRUDE1_DEPTH, mode=Mode.SUBTRACT)

    # Sketch3 → Cut-Extrude2 (cut)
    with BuildSketch(Plane(origin=(0, 3, 0), x_dir=(1, 0, 0), z_dir=(0, 1, 0))):
        with Locations((23.1, 30.81)):
            Circle(SKETCH3_R)
        with Locations((-28.8, 26.11)):
            Circle(SKETCH3_R)
        with Locations((22, -17)):
            Circle(SKETCH3_R)
        with Locations((-40, 70)):
            Circle(SKETCH3_R)
        with Locations((40, 70)):
            Circle(SKETCH3_R)
        with BuildLine():
            Line((-19, -21), (19, -21))
            ThreePointArc((19, -21), (19.707106781, -21.292893219), (20, -22))
            Line((20, -22), (20, -24))
            ThreePointArc((20, -24), (19.707106781, -24.707106781), (19, -25))
            Line((19, -25), (-19, -25))
            ThreePointArc((-19, -25), (-19.707106781, -24.707106781), (-20, -24))
            Line((-20, -24), (-20, -22))
            ThreePointArc((-20, -22), (-19.707106781, -21.292893219), (-19, -21))
        make_face()
    extrude(amount=-CUT_EXTRUDE2_DEPTH, mode=Mode.SUBTRACT)


solid = part.part
